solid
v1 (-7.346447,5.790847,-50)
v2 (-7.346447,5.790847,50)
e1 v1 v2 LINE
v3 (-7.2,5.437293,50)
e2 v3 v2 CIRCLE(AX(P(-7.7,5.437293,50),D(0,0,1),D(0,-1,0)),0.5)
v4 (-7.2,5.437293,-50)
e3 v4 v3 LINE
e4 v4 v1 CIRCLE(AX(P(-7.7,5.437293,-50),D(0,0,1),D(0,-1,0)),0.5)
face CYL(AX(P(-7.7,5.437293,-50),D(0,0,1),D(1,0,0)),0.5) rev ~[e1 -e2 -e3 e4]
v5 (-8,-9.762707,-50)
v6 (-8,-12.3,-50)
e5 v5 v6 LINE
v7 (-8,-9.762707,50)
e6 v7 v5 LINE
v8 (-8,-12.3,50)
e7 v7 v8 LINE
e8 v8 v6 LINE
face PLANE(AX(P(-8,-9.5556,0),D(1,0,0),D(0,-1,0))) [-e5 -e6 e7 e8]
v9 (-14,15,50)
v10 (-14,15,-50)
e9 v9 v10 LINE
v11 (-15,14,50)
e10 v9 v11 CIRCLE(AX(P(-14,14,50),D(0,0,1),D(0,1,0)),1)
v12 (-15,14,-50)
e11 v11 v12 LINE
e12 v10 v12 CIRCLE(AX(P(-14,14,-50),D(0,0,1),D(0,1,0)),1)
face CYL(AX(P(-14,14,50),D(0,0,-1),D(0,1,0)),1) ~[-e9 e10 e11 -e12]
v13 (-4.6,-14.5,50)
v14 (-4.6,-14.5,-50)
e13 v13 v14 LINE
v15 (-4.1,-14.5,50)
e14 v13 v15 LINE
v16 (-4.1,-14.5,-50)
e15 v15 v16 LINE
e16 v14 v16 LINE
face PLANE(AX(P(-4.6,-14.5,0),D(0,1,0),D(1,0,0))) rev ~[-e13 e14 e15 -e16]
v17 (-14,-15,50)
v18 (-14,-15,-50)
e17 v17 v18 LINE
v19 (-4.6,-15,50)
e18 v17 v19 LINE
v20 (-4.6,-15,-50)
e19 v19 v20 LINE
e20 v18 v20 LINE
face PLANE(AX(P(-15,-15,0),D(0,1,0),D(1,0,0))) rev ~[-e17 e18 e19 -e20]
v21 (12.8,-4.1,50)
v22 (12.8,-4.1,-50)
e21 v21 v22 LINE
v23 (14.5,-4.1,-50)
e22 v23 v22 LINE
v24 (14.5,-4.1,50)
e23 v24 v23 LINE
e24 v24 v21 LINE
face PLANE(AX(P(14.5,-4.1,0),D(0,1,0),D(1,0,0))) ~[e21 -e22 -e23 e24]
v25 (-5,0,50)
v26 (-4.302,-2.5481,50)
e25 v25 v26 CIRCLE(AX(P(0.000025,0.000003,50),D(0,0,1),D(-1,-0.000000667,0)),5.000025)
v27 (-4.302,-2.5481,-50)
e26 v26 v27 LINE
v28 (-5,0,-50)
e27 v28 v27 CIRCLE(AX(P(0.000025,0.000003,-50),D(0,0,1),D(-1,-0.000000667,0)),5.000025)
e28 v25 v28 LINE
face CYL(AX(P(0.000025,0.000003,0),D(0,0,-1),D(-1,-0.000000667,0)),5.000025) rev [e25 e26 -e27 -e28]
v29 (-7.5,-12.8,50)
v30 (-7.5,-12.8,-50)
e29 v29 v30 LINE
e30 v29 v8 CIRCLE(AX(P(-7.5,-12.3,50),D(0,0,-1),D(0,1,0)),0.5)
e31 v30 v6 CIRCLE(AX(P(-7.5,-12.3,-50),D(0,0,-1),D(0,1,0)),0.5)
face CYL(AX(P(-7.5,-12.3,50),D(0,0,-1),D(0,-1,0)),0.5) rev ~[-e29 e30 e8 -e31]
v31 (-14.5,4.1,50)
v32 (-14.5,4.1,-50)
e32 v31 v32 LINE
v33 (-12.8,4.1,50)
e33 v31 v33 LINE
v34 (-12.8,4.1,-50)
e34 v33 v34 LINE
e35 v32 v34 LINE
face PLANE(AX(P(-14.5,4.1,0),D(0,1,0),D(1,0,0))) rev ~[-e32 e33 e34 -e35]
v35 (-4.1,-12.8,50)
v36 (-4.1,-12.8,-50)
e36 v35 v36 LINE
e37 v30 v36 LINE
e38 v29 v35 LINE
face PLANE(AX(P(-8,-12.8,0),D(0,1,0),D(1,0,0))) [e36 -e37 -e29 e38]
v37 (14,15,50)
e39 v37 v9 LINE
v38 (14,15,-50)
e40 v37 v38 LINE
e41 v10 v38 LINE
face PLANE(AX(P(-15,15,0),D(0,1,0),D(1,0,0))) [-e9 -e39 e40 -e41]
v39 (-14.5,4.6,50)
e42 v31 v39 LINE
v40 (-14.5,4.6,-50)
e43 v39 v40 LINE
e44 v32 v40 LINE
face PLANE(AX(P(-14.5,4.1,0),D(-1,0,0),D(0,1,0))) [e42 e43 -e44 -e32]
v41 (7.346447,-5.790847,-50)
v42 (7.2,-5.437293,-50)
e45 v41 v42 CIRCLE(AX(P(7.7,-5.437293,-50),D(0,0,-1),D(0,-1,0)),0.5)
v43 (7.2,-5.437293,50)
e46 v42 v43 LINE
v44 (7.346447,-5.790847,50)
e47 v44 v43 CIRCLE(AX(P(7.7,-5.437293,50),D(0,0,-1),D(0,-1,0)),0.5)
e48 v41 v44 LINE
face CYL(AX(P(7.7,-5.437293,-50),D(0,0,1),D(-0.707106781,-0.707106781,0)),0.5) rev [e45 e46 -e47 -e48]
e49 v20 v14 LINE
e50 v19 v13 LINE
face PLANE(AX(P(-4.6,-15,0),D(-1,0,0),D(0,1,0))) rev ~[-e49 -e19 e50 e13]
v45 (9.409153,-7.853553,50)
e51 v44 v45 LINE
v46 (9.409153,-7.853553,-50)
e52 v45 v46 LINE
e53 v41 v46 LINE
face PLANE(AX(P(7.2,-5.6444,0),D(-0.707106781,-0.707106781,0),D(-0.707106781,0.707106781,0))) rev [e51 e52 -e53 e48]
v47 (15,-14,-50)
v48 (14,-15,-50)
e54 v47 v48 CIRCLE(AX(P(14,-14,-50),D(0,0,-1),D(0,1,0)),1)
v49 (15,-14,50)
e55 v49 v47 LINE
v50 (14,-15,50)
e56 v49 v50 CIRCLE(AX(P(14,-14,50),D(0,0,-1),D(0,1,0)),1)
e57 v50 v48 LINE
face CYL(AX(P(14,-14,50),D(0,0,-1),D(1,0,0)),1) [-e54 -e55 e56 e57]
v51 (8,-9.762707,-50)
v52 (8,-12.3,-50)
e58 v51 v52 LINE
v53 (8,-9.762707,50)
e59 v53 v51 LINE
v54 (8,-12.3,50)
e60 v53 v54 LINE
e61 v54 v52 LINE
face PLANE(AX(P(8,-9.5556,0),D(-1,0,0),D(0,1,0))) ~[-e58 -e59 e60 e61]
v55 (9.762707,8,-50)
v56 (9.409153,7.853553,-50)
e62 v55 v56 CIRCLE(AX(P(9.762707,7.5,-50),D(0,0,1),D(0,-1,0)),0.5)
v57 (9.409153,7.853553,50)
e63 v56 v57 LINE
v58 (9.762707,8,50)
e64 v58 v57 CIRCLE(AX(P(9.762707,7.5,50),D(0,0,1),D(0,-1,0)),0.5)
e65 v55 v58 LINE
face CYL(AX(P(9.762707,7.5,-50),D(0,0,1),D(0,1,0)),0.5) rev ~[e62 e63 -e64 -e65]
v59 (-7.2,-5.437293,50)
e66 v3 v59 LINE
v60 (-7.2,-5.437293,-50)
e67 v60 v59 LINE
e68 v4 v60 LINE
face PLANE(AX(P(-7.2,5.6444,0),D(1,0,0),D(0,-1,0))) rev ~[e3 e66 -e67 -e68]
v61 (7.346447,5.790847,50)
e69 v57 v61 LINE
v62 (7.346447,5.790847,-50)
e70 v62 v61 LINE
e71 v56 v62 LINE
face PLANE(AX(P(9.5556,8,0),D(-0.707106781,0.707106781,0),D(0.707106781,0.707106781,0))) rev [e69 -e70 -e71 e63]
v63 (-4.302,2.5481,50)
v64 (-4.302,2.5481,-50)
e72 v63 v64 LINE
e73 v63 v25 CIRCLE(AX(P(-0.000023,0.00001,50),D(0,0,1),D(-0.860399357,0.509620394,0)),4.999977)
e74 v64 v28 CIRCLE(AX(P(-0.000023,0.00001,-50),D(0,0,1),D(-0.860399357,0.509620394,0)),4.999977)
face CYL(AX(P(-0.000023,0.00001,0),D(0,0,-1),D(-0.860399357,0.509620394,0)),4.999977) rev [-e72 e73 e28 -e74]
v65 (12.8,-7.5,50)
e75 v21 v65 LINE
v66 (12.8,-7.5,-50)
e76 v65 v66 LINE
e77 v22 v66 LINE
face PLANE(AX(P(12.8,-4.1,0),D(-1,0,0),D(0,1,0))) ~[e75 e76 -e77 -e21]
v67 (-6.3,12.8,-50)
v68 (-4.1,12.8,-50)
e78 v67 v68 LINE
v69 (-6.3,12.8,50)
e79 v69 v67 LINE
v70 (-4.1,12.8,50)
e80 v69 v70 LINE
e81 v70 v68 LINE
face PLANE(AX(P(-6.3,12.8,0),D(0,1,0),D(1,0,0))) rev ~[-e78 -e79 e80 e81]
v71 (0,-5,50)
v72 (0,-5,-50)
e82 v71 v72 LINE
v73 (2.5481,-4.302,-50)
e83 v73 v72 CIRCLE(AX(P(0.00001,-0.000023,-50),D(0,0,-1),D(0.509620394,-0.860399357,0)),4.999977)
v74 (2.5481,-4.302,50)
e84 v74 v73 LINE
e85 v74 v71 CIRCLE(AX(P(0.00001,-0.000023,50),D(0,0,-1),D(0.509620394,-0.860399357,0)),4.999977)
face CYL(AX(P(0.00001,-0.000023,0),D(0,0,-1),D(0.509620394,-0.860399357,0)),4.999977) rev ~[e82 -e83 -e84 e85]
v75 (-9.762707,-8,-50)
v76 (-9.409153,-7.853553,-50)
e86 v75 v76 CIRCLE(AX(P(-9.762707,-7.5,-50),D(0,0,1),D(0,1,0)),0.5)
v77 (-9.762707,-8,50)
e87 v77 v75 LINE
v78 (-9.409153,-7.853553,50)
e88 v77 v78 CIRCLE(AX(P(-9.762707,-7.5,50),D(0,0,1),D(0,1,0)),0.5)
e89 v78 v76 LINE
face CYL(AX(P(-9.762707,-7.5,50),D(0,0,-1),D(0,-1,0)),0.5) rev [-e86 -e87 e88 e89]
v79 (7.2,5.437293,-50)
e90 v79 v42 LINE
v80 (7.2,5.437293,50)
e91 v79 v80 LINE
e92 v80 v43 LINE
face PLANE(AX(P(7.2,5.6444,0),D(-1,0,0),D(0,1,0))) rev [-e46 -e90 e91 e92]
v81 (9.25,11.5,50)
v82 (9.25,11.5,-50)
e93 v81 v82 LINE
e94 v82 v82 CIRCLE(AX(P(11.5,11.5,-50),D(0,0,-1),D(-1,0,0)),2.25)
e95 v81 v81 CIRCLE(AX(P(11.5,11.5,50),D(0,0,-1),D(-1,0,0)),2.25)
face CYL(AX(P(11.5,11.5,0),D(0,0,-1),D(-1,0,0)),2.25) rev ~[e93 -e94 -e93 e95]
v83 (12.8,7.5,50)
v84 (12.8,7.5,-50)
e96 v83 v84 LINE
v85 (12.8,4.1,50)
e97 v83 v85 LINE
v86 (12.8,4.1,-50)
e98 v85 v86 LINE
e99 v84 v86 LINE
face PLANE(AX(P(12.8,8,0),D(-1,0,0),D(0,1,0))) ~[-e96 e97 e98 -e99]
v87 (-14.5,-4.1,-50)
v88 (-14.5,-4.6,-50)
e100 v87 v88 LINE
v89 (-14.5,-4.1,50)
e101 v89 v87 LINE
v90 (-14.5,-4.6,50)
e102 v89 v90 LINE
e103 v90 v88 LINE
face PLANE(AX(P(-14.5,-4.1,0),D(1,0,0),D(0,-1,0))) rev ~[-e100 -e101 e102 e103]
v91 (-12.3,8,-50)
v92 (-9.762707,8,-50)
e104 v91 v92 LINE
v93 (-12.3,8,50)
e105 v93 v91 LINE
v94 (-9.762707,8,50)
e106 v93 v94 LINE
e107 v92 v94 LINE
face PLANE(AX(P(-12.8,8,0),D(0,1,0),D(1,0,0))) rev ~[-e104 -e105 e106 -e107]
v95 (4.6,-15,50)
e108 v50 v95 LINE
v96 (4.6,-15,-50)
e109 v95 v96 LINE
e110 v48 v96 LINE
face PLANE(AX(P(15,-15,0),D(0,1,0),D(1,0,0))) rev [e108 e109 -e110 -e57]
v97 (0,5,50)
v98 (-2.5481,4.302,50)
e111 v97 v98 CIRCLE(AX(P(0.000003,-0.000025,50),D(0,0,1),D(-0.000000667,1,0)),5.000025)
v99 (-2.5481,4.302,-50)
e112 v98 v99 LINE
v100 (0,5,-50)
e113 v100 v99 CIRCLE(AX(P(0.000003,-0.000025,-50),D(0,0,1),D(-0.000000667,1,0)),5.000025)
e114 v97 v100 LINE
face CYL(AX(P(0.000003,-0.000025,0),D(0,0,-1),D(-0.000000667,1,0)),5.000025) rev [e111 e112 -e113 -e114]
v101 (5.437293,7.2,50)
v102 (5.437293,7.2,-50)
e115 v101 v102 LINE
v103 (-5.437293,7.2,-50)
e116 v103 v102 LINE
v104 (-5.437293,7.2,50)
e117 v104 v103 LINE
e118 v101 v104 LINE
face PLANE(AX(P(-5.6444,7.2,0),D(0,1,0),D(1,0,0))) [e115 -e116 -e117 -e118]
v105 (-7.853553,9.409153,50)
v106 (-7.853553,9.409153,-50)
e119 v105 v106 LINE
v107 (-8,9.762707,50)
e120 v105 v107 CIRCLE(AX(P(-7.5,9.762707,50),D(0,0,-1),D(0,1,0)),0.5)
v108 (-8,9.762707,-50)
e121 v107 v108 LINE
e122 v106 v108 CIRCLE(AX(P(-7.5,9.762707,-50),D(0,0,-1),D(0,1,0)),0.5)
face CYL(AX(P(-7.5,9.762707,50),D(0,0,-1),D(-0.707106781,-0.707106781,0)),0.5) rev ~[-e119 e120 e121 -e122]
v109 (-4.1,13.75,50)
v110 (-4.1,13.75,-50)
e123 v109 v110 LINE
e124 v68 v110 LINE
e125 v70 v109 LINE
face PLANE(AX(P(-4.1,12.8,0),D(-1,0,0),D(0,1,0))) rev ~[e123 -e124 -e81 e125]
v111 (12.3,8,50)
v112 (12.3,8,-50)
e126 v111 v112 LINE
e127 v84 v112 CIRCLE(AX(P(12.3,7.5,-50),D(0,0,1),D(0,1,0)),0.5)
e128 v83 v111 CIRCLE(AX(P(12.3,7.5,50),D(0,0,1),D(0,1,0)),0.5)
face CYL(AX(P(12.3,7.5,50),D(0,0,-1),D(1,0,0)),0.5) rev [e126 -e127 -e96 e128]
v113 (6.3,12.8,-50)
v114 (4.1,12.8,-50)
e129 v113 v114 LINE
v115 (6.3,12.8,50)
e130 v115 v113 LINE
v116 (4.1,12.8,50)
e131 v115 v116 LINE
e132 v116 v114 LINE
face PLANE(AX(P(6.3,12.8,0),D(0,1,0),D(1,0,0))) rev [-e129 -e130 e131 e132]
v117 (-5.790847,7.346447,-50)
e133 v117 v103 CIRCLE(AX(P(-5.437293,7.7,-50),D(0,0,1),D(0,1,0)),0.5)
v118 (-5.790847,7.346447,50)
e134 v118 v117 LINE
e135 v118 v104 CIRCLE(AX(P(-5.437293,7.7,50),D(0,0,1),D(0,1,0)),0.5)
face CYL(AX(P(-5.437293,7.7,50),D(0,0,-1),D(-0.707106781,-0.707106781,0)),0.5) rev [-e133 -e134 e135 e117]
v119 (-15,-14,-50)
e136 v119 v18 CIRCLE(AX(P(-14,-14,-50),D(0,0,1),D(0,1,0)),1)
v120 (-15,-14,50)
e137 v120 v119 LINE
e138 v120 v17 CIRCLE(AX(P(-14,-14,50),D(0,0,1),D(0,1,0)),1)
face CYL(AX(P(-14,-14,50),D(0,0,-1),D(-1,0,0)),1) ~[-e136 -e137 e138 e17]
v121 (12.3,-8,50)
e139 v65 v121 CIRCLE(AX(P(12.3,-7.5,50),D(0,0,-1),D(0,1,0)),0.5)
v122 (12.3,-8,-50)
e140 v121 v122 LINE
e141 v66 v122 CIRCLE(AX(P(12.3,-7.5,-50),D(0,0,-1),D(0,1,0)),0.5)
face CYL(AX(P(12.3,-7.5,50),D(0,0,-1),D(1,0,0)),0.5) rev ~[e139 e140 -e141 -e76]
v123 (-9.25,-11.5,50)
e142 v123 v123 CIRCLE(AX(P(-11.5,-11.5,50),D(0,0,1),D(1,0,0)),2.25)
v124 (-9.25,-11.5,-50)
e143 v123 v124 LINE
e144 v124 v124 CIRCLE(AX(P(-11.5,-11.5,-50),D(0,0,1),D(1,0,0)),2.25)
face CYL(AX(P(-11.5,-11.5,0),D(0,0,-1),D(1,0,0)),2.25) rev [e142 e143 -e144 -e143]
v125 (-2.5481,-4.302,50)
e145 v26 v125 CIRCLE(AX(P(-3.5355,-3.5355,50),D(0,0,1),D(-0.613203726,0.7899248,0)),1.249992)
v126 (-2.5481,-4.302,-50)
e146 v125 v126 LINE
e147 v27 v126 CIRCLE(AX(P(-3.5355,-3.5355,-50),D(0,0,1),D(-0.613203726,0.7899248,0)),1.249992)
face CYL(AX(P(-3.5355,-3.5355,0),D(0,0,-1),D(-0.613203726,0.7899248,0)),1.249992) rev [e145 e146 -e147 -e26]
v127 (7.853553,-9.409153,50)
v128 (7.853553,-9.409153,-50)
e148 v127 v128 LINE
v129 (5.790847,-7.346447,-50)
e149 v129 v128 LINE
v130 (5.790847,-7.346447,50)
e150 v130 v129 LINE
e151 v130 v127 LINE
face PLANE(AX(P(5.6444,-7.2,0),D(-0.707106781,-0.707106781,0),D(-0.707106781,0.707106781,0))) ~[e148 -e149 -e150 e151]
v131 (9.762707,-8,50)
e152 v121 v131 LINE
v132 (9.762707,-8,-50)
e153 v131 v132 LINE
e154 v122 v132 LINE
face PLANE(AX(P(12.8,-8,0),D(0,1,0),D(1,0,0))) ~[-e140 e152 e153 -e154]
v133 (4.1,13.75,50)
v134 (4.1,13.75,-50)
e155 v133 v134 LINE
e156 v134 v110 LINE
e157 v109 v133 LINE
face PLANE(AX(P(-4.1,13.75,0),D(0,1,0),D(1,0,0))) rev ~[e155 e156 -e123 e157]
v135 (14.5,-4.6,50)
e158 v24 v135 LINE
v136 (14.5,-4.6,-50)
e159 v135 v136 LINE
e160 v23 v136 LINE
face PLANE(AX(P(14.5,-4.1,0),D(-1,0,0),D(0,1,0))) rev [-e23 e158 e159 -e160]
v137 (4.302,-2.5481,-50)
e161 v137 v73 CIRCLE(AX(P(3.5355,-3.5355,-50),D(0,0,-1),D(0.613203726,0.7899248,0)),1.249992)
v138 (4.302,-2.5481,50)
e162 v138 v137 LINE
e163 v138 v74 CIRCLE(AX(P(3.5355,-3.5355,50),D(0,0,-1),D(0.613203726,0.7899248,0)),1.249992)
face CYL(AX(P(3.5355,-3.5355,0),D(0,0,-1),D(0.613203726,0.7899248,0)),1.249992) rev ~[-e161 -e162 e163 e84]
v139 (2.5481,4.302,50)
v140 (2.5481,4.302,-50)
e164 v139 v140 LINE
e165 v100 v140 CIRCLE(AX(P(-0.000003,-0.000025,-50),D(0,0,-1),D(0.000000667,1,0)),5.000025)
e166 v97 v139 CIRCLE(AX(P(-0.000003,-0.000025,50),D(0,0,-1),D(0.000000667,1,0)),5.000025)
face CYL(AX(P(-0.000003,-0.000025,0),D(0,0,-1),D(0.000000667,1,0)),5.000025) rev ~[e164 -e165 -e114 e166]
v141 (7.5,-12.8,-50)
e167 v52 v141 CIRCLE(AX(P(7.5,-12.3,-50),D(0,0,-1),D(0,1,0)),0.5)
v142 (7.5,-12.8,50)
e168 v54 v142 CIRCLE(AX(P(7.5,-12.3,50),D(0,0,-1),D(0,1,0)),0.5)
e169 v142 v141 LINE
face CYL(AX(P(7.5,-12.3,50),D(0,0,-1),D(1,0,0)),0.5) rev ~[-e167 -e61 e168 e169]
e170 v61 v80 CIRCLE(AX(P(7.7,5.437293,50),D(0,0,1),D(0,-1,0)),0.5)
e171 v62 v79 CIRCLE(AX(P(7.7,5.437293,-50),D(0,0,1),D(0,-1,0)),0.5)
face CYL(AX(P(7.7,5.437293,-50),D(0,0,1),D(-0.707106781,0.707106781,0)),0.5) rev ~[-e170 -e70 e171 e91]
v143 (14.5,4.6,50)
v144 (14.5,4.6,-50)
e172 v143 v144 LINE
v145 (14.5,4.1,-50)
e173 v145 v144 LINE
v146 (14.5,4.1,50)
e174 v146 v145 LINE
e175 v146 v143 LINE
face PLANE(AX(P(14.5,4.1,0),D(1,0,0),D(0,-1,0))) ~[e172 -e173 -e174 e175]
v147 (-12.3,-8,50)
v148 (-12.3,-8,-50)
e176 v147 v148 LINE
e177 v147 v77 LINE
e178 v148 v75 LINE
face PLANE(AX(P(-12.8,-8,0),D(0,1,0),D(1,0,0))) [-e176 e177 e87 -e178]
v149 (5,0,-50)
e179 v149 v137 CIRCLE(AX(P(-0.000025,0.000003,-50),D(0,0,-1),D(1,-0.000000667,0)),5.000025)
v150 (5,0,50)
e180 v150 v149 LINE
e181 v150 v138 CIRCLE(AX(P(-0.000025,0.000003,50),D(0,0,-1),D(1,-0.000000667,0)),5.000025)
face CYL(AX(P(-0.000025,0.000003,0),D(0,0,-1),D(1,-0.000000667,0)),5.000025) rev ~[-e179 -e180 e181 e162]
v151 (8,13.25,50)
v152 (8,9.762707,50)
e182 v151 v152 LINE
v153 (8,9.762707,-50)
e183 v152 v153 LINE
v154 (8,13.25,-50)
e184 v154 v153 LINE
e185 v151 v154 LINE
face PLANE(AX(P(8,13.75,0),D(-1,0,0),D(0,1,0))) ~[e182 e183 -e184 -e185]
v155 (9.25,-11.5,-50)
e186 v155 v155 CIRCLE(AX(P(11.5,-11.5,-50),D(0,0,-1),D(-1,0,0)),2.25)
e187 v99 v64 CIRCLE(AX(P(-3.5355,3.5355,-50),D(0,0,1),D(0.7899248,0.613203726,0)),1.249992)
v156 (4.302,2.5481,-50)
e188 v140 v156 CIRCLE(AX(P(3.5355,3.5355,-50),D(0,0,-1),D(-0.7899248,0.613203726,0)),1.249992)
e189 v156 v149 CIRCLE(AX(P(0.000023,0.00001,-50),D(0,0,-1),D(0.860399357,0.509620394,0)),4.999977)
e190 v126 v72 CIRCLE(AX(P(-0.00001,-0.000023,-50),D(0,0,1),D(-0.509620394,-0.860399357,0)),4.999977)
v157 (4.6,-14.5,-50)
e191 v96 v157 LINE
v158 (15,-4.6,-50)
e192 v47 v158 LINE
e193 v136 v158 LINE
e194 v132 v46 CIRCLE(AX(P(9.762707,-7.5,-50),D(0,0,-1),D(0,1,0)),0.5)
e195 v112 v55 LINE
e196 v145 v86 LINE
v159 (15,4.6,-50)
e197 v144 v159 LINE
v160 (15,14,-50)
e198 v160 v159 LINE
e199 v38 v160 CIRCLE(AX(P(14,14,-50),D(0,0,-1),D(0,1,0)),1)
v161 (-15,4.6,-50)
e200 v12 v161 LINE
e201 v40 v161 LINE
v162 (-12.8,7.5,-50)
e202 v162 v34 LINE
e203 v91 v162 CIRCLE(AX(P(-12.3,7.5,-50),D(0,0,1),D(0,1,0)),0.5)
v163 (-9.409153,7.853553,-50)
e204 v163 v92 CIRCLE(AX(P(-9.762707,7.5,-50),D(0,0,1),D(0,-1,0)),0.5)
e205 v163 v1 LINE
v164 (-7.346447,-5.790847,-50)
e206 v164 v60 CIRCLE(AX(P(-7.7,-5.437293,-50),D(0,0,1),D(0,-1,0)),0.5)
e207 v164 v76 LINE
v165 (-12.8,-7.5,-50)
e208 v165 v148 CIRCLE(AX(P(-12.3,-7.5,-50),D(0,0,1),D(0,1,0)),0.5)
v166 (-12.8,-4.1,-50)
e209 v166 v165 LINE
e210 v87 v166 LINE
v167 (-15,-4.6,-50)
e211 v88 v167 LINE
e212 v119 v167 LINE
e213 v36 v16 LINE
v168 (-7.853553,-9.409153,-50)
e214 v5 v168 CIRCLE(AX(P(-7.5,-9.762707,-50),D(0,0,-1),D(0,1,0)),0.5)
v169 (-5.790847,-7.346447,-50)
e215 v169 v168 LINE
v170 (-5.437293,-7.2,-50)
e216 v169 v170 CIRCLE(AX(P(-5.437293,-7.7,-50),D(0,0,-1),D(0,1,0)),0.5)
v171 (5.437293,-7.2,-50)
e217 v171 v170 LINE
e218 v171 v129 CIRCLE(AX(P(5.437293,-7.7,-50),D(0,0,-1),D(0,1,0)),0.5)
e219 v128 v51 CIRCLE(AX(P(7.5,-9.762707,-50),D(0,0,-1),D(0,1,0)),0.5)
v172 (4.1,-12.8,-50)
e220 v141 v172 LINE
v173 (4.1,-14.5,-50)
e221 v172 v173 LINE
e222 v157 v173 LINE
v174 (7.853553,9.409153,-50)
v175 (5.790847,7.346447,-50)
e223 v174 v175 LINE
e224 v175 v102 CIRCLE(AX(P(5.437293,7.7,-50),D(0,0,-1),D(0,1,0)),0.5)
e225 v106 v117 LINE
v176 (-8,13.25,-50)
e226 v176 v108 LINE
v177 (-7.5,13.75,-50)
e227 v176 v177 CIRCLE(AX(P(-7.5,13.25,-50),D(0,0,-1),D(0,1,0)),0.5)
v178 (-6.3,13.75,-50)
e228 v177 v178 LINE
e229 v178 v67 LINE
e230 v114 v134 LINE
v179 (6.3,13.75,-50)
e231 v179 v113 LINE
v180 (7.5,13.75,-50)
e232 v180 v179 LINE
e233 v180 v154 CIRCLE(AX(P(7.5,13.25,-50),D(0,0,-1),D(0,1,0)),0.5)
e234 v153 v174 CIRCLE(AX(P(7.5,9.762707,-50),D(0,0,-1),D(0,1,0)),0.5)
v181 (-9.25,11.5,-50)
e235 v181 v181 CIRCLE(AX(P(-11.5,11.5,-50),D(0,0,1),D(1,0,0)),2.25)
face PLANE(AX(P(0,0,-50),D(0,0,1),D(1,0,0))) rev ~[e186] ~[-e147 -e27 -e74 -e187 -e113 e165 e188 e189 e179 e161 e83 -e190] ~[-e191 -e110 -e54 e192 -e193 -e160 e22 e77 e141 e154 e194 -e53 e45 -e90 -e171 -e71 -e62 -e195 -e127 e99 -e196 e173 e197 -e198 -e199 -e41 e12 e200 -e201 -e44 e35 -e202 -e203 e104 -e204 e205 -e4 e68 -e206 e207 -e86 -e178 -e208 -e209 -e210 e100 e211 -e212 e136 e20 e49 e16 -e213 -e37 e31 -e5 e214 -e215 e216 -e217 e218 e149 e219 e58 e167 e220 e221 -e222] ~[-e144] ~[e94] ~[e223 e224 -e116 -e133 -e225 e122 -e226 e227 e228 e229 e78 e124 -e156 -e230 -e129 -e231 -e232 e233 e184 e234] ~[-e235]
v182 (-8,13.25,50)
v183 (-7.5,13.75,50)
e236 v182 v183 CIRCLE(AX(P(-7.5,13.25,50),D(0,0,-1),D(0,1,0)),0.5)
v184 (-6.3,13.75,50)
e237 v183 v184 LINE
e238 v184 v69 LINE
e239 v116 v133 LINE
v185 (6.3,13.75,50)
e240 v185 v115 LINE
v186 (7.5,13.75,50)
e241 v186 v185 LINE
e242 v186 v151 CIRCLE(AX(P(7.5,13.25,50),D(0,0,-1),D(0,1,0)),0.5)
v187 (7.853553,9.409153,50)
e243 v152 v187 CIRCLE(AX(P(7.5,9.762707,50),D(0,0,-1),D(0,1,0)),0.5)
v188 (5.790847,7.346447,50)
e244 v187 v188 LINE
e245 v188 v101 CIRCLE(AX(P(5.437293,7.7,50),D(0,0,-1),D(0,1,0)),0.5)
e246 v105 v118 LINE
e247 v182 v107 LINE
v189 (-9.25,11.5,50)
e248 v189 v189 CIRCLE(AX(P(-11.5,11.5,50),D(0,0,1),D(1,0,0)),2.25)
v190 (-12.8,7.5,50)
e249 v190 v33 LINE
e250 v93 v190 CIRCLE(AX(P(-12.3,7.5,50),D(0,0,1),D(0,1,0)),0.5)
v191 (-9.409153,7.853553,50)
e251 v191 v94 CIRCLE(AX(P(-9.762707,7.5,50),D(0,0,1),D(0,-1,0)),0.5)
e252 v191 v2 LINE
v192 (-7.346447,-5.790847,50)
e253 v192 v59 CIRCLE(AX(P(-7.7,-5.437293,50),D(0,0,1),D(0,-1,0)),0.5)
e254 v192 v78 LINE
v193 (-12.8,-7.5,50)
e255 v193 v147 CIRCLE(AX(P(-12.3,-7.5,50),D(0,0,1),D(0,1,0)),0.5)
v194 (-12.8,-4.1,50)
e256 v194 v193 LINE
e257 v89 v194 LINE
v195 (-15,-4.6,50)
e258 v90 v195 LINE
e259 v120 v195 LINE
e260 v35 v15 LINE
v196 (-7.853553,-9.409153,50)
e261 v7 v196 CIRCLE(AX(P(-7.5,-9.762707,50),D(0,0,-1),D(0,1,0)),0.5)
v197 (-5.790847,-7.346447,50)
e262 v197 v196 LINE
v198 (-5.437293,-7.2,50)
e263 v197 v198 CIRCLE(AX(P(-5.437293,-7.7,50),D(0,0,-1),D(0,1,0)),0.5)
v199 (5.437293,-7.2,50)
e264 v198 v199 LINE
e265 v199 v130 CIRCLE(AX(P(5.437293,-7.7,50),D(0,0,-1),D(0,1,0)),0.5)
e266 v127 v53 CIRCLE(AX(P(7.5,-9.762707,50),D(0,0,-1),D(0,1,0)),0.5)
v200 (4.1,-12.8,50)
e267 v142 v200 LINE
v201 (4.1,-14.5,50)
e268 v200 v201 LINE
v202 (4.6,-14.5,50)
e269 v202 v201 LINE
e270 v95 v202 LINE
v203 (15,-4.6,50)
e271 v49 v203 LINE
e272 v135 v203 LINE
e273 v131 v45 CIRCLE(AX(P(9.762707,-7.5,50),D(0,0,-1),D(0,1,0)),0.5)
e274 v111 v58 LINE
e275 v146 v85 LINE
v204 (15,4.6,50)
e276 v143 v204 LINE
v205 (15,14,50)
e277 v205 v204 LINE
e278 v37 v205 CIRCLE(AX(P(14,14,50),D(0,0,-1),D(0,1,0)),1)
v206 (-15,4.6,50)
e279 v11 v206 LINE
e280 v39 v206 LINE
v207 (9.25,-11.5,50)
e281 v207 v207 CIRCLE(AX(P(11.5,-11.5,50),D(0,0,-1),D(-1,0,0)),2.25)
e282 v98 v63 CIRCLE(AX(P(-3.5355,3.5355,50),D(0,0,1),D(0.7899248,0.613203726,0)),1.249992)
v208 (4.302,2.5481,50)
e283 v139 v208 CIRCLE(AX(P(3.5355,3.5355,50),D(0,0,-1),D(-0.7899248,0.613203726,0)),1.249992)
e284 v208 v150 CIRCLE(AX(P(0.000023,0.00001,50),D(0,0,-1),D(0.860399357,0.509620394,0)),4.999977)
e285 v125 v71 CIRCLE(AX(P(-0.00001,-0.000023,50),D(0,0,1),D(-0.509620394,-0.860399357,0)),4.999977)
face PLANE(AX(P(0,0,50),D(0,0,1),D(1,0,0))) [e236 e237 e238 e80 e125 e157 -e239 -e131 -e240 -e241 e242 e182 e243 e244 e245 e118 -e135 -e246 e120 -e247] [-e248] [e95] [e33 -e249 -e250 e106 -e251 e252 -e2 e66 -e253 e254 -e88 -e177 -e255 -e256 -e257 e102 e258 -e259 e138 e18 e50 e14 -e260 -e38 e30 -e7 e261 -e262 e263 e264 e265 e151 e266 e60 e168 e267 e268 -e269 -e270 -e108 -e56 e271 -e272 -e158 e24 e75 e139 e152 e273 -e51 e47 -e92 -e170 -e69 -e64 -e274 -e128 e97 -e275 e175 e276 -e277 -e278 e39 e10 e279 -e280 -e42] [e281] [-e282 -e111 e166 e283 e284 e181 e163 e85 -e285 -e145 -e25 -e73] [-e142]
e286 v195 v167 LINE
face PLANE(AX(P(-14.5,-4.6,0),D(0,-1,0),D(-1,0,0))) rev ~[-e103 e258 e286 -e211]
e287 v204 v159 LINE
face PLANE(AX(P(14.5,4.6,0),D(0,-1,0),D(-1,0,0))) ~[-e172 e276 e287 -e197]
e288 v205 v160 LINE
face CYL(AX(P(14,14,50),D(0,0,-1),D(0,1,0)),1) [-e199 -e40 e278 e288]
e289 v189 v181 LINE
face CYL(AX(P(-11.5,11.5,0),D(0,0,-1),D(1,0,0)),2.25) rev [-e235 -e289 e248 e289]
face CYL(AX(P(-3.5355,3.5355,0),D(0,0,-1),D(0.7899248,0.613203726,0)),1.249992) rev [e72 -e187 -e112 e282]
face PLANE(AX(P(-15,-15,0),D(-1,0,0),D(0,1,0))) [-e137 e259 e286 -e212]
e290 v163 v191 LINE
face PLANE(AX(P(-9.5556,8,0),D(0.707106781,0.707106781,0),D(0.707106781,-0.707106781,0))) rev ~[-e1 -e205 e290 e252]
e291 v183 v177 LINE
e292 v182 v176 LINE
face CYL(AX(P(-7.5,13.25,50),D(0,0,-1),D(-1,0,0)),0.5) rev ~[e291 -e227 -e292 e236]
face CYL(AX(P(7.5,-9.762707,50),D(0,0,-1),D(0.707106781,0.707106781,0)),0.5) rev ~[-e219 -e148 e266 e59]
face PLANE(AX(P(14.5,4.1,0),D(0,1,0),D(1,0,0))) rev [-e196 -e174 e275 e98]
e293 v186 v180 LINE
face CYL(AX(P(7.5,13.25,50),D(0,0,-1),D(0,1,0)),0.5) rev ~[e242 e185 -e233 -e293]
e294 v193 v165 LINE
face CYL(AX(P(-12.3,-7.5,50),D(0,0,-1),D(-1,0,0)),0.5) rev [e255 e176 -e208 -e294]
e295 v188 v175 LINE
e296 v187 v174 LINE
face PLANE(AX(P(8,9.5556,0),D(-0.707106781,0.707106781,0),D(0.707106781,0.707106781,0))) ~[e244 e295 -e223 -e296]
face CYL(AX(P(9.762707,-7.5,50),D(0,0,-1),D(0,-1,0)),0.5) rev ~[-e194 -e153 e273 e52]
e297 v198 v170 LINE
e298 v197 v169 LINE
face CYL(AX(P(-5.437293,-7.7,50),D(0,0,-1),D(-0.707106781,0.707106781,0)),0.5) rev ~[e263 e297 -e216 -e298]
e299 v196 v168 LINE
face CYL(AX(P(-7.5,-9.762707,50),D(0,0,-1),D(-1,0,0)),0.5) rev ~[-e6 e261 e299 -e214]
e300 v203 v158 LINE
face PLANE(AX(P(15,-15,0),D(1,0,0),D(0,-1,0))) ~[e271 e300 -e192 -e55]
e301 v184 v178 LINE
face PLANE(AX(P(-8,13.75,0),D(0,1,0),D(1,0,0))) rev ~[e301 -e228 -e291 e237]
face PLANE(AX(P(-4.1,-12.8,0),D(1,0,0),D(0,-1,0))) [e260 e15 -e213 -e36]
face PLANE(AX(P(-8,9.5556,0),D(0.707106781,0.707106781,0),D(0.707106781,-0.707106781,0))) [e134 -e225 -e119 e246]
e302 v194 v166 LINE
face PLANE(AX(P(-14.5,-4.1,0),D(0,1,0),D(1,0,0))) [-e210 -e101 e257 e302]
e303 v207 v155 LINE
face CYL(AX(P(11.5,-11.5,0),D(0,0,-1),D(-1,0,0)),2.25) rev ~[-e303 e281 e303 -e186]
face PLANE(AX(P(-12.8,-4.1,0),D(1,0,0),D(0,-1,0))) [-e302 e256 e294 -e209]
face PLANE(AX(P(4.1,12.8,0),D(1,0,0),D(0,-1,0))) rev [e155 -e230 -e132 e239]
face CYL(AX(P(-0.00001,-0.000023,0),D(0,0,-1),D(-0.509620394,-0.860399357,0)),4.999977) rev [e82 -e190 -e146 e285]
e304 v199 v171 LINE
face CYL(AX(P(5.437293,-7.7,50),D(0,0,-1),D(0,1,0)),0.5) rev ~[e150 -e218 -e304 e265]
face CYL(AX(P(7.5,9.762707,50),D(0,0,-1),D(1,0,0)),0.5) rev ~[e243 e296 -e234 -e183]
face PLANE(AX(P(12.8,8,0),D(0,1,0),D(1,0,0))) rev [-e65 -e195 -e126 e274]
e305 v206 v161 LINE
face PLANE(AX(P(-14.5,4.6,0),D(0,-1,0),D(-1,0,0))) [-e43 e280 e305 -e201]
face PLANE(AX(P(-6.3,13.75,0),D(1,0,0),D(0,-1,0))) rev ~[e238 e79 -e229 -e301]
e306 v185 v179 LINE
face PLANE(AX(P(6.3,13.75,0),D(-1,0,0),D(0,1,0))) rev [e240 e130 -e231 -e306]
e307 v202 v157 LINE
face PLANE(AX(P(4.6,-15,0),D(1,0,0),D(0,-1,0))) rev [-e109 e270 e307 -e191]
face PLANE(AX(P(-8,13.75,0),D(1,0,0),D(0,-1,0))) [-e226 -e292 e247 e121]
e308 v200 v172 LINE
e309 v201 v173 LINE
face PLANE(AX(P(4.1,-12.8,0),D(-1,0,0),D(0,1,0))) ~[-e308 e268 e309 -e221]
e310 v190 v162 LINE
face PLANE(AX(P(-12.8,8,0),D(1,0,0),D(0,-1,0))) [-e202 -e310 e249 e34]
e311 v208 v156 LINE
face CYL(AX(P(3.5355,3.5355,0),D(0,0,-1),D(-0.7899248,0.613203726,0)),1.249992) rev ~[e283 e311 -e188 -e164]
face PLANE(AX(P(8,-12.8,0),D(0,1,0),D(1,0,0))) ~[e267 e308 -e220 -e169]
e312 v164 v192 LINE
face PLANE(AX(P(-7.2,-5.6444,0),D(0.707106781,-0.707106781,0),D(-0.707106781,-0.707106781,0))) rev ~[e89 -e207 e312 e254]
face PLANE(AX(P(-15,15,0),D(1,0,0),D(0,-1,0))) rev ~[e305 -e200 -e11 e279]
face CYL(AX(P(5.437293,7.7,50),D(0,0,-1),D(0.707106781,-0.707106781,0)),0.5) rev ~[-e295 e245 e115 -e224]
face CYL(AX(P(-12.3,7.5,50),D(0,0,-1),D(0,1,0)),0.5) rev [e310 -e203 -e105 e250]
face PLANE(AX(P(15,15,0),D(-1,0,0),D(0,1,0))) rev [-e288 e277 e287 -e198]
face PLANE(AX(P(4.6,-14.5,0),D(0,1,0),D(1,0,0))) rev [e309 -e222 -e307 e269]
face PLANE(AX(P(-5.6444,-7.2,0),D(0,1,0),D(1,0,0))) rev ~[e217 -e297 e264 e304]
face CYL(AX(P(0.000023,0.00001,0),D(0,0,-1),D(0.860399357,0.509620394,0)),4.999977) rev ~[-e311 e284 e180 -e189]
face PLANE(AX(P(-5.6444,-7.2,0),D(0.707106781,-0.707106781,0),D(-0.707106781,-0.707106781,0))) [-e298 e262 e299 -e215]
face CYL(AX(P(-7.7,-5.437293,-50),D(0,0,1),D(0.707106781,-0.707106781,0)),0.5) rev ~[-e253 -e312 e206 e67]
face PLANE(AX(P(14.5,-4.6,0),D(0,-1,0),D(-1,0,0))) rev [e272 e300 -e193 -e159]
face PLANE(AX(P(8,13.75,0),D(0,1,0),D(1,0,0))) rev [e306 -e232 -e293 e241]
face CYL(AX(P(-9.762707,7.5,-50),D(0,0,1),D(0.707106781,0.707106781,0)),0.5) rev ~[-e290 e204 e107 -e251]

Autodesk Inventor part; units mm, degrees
sketch "Sketch1" plane through (0, 0, 0) normal (0, 0, 1) x (1, 0, 0)
  circle A0 centre (0, 0) radius 5 construction
  line L0 (-15, 15) -> (0, 0) construction
  circle A1 centre (-3.5355, 3.5355) radius 1.25 construction
  circle A2 centre (-3.5355, -3.5355) radius 1.25 construction
  circle A3 centre (3.5355, -3.5355) radius 1.25 construction
  circle A4 centre (3.5355, 3.5355) radius 1.25 construction
  line L1 (-7.2, 7.2) -> (0, 7.2) construction
  line L2 (-7.2, 7.2) -> (-7.2, 0) construction
  line L3 (-15, -15) -> (0, 0) construction
  line L4 (-9.5556, 8) -> (-7.2, 5.6444)
  circle A5 centre (-11.5, 11.5) radius 2.25
  line L5 (-15, 15) -> (-15, 4.1) construction
  line L6 (-15, 4.1) -> (-14.5, 4.1) construction
  line L7 (-14.5, 4.1) -> (-14.5, 4.6)
  line L8 (-14.5, 4.6) -> (-15, 4.6)
  line L9 (-15, 4.6) -> (-15, 4.1) construction
  line L10 (-15, 15) -> (-15, 4.6)
  line L11 (-12.8, 8) -> (-12.8, 4.1)
  line L12 (-12.8, 8) -> (-9.5556, 8)
  line L13 (-7.2, 5.6444) -> (-7.2, 0)
  line L14 (-8, 9.5556) -> (-5.6444, 7.2)
  line L15 (-8, 15) -> (-8, 8) construction
  line L16 (-15, 15) -> (0, 15)
  line L17 (-8, 13.75) -> (-8, 9.5556)
  line L18 (-8, 13.75) -> (-6.3, 13.75)
  line L19 (-6.3, 13.75) -> (-6.3, 12.8)
  line L20 (-6.3, 12.8) -> (-4.1, 12.8)
  line L21 (-4.1, 12.8) -> (-4.1, 13.75)
  line L22 (-4.1, 13.75) -> (0, 13.75)
  line L23 (0, 15) -> (0, 13.75)
  line L24 (-7.2, 0) -> (-7.2, -5.6444)
  line L25 (-15, 0) -> (0, 0) construction
  line L26 (-7.2, -5.6444) -> (-9.5556, -8)
  line L27 (-12.8, -8) -> (-9.5556, -8)
  line L28 (-12.8, -4.1) -> (-12.8, -8)
  line L29 (-15, 4.1) -> (-12.8, 4.1) construction
  line L30 (-14.5, 4.1) -> (-12.8, 4.1)
  circle A6 centre (-11.5, -11.5) radius 2.25
  line L31 (-15, -4.1) -> (-12.8, -4.1) construction
  line L32 (-15, -4.1) -> (-14.5, -4.1) construction
  line L33 (-14.5, -4.1) -> (-14.5, -4.6)
  line L34 (-14.5, -4.6) -> (-15, -4.6)
  line L35 (-15, -4.6) -> (-15, -4.1) construction
  line L36 (-14.5, -4.1) -> (-12.8, -4.1)
  line L37 (-15, -15) -> (-15, -4.6)
  line L38 (-15, -15) -> (-4.1, -15) construction
  line L39 (-4.1, -15) -> (-4.6, -15) construction
  line L40 (-4.6, -15) -> (-4.6, -14.5)
  line L41 (-4.6, -14.5) -> (-4.1, -14.5)
  line L42 (-4.1, -14.5) -> (-4.1, -15) construction
  line L43 (-15, -15) -> (-4.6, -15)
  line L44 (-4.1, -15) -> (-4.1, -12.8) construction
  line L45 (-4.1, -12.8) -> (-4.1, -14.5)
  line L46 (-8, -12.8) -> (-4.1, -12.8)
  line L47 (-8, -9.5556) -> (-8, -12.8)
  line L48 (-5.6444, -7.2) -> (-8, -9.5556)
  line L49 (-5.6444, -7.2) -> (0, -7.2)
  line L50 (-5.6444, 7.2) -> (0, 7.2)
  arc A7 (-2.5481, -4.302) -> (0, -5) centre (0, 0) ccw
  arc A8 (-4.302, -2.5481) -> (-2.5481, -4.302) centre (-3.5355, -3.5355) ccw
  arc A9 (-5, 0) -> (-4.302, -2.5481) centre (0, 0) ccw
  arc A10 (-4.302, 2.5481) -> (-5, 0) centre (0, 0) ccw
  arc A11 (-2.5481, 4.302) -> (-4.302, 2.5481) centre (-3.5355, 3.5355) ccw
  arc A12 (0, 5) -> (-2.5481, 4.302) centre (0, 0) ccw
  line L51 (0, 7.2) -> (0, 5)
  line L52 (0, -5) -> (0, -7.2)
  point P0 (0, 7.2)
  dimension "d0" = 10
  dimension "d1" = 15
  dimension "d2" = 15
  dimension "d3" = 2.5
  dimension "d6" = 360
  dimension "d8" = 2.2
  dimension "d9" = 15
  dimension "d10" = 15
  dimension "d12" = 4.5
  dimension "d13" = 11.5
  dimension "d14" = 11.5
  dimension "d15" = 1.1
  dimension "d16" = 4.1
  dimension "d17" = 0.5
  dimension "d19" = 1.25
  dimension "d20" = 1.25
  dimension "d22" = 2.2
  dimension "d23" = 4.1
  dimension "d24" = 2.2
  dimension "d25" = 4.1
extrude "Extrusion1" add sketch "Sketch1" along normal mid plane 100
mirror "Mirror1" about plane through (0, 0, 0) normal (1, 0, 0) of "Extrusion1"
fillet "Fillet1" radius 1 4 edges at (15, 15, 0) (15, -15, 0) (-15, 15, 0) (-15, -15, 0)
fillet "Fillet2" radius 0.5 24 edges at (-12.8, -8, 0) (-9.5556, -8, 0) (-8, -12.8, 0) (9.5556, -8, 0) (7.2, -5.6444, 0) (5.6444, 7.2, 0) (-5.6444, 7.2, 0) (-8, 9.5556, 0) (-7.2, 5.6444, 0) (-7.2, -5.6444, 0) (8, -12.8, 0) (8, -9.5556, 0) (12.8, -8, 0) (8, 9.5556, 0) (8, 13.75, 0) (9.5556, 8, 0) (12.8, 8, 0) (-9.5556, 8, 0) (-8, 13.75, 0) (-12.8, 8, 0) (-5.6444, -7.2, 0) (-8, -9.5556, 0) (5.6444, -7.2, 0) (7.2, 5.6444, 0)
equation "\"d1\" = d2"
equation "\"d9\" = d2"
equation "\"d10\" = d2"
equation "\"d14\" = d13"
equation "\"d20\" = d19"
equation "\"d23\" = d16"
equation "\"d25\" = d16"
properties part number "Perfil 30×30 3 rasgos_001" material "Aluminum 6061"
